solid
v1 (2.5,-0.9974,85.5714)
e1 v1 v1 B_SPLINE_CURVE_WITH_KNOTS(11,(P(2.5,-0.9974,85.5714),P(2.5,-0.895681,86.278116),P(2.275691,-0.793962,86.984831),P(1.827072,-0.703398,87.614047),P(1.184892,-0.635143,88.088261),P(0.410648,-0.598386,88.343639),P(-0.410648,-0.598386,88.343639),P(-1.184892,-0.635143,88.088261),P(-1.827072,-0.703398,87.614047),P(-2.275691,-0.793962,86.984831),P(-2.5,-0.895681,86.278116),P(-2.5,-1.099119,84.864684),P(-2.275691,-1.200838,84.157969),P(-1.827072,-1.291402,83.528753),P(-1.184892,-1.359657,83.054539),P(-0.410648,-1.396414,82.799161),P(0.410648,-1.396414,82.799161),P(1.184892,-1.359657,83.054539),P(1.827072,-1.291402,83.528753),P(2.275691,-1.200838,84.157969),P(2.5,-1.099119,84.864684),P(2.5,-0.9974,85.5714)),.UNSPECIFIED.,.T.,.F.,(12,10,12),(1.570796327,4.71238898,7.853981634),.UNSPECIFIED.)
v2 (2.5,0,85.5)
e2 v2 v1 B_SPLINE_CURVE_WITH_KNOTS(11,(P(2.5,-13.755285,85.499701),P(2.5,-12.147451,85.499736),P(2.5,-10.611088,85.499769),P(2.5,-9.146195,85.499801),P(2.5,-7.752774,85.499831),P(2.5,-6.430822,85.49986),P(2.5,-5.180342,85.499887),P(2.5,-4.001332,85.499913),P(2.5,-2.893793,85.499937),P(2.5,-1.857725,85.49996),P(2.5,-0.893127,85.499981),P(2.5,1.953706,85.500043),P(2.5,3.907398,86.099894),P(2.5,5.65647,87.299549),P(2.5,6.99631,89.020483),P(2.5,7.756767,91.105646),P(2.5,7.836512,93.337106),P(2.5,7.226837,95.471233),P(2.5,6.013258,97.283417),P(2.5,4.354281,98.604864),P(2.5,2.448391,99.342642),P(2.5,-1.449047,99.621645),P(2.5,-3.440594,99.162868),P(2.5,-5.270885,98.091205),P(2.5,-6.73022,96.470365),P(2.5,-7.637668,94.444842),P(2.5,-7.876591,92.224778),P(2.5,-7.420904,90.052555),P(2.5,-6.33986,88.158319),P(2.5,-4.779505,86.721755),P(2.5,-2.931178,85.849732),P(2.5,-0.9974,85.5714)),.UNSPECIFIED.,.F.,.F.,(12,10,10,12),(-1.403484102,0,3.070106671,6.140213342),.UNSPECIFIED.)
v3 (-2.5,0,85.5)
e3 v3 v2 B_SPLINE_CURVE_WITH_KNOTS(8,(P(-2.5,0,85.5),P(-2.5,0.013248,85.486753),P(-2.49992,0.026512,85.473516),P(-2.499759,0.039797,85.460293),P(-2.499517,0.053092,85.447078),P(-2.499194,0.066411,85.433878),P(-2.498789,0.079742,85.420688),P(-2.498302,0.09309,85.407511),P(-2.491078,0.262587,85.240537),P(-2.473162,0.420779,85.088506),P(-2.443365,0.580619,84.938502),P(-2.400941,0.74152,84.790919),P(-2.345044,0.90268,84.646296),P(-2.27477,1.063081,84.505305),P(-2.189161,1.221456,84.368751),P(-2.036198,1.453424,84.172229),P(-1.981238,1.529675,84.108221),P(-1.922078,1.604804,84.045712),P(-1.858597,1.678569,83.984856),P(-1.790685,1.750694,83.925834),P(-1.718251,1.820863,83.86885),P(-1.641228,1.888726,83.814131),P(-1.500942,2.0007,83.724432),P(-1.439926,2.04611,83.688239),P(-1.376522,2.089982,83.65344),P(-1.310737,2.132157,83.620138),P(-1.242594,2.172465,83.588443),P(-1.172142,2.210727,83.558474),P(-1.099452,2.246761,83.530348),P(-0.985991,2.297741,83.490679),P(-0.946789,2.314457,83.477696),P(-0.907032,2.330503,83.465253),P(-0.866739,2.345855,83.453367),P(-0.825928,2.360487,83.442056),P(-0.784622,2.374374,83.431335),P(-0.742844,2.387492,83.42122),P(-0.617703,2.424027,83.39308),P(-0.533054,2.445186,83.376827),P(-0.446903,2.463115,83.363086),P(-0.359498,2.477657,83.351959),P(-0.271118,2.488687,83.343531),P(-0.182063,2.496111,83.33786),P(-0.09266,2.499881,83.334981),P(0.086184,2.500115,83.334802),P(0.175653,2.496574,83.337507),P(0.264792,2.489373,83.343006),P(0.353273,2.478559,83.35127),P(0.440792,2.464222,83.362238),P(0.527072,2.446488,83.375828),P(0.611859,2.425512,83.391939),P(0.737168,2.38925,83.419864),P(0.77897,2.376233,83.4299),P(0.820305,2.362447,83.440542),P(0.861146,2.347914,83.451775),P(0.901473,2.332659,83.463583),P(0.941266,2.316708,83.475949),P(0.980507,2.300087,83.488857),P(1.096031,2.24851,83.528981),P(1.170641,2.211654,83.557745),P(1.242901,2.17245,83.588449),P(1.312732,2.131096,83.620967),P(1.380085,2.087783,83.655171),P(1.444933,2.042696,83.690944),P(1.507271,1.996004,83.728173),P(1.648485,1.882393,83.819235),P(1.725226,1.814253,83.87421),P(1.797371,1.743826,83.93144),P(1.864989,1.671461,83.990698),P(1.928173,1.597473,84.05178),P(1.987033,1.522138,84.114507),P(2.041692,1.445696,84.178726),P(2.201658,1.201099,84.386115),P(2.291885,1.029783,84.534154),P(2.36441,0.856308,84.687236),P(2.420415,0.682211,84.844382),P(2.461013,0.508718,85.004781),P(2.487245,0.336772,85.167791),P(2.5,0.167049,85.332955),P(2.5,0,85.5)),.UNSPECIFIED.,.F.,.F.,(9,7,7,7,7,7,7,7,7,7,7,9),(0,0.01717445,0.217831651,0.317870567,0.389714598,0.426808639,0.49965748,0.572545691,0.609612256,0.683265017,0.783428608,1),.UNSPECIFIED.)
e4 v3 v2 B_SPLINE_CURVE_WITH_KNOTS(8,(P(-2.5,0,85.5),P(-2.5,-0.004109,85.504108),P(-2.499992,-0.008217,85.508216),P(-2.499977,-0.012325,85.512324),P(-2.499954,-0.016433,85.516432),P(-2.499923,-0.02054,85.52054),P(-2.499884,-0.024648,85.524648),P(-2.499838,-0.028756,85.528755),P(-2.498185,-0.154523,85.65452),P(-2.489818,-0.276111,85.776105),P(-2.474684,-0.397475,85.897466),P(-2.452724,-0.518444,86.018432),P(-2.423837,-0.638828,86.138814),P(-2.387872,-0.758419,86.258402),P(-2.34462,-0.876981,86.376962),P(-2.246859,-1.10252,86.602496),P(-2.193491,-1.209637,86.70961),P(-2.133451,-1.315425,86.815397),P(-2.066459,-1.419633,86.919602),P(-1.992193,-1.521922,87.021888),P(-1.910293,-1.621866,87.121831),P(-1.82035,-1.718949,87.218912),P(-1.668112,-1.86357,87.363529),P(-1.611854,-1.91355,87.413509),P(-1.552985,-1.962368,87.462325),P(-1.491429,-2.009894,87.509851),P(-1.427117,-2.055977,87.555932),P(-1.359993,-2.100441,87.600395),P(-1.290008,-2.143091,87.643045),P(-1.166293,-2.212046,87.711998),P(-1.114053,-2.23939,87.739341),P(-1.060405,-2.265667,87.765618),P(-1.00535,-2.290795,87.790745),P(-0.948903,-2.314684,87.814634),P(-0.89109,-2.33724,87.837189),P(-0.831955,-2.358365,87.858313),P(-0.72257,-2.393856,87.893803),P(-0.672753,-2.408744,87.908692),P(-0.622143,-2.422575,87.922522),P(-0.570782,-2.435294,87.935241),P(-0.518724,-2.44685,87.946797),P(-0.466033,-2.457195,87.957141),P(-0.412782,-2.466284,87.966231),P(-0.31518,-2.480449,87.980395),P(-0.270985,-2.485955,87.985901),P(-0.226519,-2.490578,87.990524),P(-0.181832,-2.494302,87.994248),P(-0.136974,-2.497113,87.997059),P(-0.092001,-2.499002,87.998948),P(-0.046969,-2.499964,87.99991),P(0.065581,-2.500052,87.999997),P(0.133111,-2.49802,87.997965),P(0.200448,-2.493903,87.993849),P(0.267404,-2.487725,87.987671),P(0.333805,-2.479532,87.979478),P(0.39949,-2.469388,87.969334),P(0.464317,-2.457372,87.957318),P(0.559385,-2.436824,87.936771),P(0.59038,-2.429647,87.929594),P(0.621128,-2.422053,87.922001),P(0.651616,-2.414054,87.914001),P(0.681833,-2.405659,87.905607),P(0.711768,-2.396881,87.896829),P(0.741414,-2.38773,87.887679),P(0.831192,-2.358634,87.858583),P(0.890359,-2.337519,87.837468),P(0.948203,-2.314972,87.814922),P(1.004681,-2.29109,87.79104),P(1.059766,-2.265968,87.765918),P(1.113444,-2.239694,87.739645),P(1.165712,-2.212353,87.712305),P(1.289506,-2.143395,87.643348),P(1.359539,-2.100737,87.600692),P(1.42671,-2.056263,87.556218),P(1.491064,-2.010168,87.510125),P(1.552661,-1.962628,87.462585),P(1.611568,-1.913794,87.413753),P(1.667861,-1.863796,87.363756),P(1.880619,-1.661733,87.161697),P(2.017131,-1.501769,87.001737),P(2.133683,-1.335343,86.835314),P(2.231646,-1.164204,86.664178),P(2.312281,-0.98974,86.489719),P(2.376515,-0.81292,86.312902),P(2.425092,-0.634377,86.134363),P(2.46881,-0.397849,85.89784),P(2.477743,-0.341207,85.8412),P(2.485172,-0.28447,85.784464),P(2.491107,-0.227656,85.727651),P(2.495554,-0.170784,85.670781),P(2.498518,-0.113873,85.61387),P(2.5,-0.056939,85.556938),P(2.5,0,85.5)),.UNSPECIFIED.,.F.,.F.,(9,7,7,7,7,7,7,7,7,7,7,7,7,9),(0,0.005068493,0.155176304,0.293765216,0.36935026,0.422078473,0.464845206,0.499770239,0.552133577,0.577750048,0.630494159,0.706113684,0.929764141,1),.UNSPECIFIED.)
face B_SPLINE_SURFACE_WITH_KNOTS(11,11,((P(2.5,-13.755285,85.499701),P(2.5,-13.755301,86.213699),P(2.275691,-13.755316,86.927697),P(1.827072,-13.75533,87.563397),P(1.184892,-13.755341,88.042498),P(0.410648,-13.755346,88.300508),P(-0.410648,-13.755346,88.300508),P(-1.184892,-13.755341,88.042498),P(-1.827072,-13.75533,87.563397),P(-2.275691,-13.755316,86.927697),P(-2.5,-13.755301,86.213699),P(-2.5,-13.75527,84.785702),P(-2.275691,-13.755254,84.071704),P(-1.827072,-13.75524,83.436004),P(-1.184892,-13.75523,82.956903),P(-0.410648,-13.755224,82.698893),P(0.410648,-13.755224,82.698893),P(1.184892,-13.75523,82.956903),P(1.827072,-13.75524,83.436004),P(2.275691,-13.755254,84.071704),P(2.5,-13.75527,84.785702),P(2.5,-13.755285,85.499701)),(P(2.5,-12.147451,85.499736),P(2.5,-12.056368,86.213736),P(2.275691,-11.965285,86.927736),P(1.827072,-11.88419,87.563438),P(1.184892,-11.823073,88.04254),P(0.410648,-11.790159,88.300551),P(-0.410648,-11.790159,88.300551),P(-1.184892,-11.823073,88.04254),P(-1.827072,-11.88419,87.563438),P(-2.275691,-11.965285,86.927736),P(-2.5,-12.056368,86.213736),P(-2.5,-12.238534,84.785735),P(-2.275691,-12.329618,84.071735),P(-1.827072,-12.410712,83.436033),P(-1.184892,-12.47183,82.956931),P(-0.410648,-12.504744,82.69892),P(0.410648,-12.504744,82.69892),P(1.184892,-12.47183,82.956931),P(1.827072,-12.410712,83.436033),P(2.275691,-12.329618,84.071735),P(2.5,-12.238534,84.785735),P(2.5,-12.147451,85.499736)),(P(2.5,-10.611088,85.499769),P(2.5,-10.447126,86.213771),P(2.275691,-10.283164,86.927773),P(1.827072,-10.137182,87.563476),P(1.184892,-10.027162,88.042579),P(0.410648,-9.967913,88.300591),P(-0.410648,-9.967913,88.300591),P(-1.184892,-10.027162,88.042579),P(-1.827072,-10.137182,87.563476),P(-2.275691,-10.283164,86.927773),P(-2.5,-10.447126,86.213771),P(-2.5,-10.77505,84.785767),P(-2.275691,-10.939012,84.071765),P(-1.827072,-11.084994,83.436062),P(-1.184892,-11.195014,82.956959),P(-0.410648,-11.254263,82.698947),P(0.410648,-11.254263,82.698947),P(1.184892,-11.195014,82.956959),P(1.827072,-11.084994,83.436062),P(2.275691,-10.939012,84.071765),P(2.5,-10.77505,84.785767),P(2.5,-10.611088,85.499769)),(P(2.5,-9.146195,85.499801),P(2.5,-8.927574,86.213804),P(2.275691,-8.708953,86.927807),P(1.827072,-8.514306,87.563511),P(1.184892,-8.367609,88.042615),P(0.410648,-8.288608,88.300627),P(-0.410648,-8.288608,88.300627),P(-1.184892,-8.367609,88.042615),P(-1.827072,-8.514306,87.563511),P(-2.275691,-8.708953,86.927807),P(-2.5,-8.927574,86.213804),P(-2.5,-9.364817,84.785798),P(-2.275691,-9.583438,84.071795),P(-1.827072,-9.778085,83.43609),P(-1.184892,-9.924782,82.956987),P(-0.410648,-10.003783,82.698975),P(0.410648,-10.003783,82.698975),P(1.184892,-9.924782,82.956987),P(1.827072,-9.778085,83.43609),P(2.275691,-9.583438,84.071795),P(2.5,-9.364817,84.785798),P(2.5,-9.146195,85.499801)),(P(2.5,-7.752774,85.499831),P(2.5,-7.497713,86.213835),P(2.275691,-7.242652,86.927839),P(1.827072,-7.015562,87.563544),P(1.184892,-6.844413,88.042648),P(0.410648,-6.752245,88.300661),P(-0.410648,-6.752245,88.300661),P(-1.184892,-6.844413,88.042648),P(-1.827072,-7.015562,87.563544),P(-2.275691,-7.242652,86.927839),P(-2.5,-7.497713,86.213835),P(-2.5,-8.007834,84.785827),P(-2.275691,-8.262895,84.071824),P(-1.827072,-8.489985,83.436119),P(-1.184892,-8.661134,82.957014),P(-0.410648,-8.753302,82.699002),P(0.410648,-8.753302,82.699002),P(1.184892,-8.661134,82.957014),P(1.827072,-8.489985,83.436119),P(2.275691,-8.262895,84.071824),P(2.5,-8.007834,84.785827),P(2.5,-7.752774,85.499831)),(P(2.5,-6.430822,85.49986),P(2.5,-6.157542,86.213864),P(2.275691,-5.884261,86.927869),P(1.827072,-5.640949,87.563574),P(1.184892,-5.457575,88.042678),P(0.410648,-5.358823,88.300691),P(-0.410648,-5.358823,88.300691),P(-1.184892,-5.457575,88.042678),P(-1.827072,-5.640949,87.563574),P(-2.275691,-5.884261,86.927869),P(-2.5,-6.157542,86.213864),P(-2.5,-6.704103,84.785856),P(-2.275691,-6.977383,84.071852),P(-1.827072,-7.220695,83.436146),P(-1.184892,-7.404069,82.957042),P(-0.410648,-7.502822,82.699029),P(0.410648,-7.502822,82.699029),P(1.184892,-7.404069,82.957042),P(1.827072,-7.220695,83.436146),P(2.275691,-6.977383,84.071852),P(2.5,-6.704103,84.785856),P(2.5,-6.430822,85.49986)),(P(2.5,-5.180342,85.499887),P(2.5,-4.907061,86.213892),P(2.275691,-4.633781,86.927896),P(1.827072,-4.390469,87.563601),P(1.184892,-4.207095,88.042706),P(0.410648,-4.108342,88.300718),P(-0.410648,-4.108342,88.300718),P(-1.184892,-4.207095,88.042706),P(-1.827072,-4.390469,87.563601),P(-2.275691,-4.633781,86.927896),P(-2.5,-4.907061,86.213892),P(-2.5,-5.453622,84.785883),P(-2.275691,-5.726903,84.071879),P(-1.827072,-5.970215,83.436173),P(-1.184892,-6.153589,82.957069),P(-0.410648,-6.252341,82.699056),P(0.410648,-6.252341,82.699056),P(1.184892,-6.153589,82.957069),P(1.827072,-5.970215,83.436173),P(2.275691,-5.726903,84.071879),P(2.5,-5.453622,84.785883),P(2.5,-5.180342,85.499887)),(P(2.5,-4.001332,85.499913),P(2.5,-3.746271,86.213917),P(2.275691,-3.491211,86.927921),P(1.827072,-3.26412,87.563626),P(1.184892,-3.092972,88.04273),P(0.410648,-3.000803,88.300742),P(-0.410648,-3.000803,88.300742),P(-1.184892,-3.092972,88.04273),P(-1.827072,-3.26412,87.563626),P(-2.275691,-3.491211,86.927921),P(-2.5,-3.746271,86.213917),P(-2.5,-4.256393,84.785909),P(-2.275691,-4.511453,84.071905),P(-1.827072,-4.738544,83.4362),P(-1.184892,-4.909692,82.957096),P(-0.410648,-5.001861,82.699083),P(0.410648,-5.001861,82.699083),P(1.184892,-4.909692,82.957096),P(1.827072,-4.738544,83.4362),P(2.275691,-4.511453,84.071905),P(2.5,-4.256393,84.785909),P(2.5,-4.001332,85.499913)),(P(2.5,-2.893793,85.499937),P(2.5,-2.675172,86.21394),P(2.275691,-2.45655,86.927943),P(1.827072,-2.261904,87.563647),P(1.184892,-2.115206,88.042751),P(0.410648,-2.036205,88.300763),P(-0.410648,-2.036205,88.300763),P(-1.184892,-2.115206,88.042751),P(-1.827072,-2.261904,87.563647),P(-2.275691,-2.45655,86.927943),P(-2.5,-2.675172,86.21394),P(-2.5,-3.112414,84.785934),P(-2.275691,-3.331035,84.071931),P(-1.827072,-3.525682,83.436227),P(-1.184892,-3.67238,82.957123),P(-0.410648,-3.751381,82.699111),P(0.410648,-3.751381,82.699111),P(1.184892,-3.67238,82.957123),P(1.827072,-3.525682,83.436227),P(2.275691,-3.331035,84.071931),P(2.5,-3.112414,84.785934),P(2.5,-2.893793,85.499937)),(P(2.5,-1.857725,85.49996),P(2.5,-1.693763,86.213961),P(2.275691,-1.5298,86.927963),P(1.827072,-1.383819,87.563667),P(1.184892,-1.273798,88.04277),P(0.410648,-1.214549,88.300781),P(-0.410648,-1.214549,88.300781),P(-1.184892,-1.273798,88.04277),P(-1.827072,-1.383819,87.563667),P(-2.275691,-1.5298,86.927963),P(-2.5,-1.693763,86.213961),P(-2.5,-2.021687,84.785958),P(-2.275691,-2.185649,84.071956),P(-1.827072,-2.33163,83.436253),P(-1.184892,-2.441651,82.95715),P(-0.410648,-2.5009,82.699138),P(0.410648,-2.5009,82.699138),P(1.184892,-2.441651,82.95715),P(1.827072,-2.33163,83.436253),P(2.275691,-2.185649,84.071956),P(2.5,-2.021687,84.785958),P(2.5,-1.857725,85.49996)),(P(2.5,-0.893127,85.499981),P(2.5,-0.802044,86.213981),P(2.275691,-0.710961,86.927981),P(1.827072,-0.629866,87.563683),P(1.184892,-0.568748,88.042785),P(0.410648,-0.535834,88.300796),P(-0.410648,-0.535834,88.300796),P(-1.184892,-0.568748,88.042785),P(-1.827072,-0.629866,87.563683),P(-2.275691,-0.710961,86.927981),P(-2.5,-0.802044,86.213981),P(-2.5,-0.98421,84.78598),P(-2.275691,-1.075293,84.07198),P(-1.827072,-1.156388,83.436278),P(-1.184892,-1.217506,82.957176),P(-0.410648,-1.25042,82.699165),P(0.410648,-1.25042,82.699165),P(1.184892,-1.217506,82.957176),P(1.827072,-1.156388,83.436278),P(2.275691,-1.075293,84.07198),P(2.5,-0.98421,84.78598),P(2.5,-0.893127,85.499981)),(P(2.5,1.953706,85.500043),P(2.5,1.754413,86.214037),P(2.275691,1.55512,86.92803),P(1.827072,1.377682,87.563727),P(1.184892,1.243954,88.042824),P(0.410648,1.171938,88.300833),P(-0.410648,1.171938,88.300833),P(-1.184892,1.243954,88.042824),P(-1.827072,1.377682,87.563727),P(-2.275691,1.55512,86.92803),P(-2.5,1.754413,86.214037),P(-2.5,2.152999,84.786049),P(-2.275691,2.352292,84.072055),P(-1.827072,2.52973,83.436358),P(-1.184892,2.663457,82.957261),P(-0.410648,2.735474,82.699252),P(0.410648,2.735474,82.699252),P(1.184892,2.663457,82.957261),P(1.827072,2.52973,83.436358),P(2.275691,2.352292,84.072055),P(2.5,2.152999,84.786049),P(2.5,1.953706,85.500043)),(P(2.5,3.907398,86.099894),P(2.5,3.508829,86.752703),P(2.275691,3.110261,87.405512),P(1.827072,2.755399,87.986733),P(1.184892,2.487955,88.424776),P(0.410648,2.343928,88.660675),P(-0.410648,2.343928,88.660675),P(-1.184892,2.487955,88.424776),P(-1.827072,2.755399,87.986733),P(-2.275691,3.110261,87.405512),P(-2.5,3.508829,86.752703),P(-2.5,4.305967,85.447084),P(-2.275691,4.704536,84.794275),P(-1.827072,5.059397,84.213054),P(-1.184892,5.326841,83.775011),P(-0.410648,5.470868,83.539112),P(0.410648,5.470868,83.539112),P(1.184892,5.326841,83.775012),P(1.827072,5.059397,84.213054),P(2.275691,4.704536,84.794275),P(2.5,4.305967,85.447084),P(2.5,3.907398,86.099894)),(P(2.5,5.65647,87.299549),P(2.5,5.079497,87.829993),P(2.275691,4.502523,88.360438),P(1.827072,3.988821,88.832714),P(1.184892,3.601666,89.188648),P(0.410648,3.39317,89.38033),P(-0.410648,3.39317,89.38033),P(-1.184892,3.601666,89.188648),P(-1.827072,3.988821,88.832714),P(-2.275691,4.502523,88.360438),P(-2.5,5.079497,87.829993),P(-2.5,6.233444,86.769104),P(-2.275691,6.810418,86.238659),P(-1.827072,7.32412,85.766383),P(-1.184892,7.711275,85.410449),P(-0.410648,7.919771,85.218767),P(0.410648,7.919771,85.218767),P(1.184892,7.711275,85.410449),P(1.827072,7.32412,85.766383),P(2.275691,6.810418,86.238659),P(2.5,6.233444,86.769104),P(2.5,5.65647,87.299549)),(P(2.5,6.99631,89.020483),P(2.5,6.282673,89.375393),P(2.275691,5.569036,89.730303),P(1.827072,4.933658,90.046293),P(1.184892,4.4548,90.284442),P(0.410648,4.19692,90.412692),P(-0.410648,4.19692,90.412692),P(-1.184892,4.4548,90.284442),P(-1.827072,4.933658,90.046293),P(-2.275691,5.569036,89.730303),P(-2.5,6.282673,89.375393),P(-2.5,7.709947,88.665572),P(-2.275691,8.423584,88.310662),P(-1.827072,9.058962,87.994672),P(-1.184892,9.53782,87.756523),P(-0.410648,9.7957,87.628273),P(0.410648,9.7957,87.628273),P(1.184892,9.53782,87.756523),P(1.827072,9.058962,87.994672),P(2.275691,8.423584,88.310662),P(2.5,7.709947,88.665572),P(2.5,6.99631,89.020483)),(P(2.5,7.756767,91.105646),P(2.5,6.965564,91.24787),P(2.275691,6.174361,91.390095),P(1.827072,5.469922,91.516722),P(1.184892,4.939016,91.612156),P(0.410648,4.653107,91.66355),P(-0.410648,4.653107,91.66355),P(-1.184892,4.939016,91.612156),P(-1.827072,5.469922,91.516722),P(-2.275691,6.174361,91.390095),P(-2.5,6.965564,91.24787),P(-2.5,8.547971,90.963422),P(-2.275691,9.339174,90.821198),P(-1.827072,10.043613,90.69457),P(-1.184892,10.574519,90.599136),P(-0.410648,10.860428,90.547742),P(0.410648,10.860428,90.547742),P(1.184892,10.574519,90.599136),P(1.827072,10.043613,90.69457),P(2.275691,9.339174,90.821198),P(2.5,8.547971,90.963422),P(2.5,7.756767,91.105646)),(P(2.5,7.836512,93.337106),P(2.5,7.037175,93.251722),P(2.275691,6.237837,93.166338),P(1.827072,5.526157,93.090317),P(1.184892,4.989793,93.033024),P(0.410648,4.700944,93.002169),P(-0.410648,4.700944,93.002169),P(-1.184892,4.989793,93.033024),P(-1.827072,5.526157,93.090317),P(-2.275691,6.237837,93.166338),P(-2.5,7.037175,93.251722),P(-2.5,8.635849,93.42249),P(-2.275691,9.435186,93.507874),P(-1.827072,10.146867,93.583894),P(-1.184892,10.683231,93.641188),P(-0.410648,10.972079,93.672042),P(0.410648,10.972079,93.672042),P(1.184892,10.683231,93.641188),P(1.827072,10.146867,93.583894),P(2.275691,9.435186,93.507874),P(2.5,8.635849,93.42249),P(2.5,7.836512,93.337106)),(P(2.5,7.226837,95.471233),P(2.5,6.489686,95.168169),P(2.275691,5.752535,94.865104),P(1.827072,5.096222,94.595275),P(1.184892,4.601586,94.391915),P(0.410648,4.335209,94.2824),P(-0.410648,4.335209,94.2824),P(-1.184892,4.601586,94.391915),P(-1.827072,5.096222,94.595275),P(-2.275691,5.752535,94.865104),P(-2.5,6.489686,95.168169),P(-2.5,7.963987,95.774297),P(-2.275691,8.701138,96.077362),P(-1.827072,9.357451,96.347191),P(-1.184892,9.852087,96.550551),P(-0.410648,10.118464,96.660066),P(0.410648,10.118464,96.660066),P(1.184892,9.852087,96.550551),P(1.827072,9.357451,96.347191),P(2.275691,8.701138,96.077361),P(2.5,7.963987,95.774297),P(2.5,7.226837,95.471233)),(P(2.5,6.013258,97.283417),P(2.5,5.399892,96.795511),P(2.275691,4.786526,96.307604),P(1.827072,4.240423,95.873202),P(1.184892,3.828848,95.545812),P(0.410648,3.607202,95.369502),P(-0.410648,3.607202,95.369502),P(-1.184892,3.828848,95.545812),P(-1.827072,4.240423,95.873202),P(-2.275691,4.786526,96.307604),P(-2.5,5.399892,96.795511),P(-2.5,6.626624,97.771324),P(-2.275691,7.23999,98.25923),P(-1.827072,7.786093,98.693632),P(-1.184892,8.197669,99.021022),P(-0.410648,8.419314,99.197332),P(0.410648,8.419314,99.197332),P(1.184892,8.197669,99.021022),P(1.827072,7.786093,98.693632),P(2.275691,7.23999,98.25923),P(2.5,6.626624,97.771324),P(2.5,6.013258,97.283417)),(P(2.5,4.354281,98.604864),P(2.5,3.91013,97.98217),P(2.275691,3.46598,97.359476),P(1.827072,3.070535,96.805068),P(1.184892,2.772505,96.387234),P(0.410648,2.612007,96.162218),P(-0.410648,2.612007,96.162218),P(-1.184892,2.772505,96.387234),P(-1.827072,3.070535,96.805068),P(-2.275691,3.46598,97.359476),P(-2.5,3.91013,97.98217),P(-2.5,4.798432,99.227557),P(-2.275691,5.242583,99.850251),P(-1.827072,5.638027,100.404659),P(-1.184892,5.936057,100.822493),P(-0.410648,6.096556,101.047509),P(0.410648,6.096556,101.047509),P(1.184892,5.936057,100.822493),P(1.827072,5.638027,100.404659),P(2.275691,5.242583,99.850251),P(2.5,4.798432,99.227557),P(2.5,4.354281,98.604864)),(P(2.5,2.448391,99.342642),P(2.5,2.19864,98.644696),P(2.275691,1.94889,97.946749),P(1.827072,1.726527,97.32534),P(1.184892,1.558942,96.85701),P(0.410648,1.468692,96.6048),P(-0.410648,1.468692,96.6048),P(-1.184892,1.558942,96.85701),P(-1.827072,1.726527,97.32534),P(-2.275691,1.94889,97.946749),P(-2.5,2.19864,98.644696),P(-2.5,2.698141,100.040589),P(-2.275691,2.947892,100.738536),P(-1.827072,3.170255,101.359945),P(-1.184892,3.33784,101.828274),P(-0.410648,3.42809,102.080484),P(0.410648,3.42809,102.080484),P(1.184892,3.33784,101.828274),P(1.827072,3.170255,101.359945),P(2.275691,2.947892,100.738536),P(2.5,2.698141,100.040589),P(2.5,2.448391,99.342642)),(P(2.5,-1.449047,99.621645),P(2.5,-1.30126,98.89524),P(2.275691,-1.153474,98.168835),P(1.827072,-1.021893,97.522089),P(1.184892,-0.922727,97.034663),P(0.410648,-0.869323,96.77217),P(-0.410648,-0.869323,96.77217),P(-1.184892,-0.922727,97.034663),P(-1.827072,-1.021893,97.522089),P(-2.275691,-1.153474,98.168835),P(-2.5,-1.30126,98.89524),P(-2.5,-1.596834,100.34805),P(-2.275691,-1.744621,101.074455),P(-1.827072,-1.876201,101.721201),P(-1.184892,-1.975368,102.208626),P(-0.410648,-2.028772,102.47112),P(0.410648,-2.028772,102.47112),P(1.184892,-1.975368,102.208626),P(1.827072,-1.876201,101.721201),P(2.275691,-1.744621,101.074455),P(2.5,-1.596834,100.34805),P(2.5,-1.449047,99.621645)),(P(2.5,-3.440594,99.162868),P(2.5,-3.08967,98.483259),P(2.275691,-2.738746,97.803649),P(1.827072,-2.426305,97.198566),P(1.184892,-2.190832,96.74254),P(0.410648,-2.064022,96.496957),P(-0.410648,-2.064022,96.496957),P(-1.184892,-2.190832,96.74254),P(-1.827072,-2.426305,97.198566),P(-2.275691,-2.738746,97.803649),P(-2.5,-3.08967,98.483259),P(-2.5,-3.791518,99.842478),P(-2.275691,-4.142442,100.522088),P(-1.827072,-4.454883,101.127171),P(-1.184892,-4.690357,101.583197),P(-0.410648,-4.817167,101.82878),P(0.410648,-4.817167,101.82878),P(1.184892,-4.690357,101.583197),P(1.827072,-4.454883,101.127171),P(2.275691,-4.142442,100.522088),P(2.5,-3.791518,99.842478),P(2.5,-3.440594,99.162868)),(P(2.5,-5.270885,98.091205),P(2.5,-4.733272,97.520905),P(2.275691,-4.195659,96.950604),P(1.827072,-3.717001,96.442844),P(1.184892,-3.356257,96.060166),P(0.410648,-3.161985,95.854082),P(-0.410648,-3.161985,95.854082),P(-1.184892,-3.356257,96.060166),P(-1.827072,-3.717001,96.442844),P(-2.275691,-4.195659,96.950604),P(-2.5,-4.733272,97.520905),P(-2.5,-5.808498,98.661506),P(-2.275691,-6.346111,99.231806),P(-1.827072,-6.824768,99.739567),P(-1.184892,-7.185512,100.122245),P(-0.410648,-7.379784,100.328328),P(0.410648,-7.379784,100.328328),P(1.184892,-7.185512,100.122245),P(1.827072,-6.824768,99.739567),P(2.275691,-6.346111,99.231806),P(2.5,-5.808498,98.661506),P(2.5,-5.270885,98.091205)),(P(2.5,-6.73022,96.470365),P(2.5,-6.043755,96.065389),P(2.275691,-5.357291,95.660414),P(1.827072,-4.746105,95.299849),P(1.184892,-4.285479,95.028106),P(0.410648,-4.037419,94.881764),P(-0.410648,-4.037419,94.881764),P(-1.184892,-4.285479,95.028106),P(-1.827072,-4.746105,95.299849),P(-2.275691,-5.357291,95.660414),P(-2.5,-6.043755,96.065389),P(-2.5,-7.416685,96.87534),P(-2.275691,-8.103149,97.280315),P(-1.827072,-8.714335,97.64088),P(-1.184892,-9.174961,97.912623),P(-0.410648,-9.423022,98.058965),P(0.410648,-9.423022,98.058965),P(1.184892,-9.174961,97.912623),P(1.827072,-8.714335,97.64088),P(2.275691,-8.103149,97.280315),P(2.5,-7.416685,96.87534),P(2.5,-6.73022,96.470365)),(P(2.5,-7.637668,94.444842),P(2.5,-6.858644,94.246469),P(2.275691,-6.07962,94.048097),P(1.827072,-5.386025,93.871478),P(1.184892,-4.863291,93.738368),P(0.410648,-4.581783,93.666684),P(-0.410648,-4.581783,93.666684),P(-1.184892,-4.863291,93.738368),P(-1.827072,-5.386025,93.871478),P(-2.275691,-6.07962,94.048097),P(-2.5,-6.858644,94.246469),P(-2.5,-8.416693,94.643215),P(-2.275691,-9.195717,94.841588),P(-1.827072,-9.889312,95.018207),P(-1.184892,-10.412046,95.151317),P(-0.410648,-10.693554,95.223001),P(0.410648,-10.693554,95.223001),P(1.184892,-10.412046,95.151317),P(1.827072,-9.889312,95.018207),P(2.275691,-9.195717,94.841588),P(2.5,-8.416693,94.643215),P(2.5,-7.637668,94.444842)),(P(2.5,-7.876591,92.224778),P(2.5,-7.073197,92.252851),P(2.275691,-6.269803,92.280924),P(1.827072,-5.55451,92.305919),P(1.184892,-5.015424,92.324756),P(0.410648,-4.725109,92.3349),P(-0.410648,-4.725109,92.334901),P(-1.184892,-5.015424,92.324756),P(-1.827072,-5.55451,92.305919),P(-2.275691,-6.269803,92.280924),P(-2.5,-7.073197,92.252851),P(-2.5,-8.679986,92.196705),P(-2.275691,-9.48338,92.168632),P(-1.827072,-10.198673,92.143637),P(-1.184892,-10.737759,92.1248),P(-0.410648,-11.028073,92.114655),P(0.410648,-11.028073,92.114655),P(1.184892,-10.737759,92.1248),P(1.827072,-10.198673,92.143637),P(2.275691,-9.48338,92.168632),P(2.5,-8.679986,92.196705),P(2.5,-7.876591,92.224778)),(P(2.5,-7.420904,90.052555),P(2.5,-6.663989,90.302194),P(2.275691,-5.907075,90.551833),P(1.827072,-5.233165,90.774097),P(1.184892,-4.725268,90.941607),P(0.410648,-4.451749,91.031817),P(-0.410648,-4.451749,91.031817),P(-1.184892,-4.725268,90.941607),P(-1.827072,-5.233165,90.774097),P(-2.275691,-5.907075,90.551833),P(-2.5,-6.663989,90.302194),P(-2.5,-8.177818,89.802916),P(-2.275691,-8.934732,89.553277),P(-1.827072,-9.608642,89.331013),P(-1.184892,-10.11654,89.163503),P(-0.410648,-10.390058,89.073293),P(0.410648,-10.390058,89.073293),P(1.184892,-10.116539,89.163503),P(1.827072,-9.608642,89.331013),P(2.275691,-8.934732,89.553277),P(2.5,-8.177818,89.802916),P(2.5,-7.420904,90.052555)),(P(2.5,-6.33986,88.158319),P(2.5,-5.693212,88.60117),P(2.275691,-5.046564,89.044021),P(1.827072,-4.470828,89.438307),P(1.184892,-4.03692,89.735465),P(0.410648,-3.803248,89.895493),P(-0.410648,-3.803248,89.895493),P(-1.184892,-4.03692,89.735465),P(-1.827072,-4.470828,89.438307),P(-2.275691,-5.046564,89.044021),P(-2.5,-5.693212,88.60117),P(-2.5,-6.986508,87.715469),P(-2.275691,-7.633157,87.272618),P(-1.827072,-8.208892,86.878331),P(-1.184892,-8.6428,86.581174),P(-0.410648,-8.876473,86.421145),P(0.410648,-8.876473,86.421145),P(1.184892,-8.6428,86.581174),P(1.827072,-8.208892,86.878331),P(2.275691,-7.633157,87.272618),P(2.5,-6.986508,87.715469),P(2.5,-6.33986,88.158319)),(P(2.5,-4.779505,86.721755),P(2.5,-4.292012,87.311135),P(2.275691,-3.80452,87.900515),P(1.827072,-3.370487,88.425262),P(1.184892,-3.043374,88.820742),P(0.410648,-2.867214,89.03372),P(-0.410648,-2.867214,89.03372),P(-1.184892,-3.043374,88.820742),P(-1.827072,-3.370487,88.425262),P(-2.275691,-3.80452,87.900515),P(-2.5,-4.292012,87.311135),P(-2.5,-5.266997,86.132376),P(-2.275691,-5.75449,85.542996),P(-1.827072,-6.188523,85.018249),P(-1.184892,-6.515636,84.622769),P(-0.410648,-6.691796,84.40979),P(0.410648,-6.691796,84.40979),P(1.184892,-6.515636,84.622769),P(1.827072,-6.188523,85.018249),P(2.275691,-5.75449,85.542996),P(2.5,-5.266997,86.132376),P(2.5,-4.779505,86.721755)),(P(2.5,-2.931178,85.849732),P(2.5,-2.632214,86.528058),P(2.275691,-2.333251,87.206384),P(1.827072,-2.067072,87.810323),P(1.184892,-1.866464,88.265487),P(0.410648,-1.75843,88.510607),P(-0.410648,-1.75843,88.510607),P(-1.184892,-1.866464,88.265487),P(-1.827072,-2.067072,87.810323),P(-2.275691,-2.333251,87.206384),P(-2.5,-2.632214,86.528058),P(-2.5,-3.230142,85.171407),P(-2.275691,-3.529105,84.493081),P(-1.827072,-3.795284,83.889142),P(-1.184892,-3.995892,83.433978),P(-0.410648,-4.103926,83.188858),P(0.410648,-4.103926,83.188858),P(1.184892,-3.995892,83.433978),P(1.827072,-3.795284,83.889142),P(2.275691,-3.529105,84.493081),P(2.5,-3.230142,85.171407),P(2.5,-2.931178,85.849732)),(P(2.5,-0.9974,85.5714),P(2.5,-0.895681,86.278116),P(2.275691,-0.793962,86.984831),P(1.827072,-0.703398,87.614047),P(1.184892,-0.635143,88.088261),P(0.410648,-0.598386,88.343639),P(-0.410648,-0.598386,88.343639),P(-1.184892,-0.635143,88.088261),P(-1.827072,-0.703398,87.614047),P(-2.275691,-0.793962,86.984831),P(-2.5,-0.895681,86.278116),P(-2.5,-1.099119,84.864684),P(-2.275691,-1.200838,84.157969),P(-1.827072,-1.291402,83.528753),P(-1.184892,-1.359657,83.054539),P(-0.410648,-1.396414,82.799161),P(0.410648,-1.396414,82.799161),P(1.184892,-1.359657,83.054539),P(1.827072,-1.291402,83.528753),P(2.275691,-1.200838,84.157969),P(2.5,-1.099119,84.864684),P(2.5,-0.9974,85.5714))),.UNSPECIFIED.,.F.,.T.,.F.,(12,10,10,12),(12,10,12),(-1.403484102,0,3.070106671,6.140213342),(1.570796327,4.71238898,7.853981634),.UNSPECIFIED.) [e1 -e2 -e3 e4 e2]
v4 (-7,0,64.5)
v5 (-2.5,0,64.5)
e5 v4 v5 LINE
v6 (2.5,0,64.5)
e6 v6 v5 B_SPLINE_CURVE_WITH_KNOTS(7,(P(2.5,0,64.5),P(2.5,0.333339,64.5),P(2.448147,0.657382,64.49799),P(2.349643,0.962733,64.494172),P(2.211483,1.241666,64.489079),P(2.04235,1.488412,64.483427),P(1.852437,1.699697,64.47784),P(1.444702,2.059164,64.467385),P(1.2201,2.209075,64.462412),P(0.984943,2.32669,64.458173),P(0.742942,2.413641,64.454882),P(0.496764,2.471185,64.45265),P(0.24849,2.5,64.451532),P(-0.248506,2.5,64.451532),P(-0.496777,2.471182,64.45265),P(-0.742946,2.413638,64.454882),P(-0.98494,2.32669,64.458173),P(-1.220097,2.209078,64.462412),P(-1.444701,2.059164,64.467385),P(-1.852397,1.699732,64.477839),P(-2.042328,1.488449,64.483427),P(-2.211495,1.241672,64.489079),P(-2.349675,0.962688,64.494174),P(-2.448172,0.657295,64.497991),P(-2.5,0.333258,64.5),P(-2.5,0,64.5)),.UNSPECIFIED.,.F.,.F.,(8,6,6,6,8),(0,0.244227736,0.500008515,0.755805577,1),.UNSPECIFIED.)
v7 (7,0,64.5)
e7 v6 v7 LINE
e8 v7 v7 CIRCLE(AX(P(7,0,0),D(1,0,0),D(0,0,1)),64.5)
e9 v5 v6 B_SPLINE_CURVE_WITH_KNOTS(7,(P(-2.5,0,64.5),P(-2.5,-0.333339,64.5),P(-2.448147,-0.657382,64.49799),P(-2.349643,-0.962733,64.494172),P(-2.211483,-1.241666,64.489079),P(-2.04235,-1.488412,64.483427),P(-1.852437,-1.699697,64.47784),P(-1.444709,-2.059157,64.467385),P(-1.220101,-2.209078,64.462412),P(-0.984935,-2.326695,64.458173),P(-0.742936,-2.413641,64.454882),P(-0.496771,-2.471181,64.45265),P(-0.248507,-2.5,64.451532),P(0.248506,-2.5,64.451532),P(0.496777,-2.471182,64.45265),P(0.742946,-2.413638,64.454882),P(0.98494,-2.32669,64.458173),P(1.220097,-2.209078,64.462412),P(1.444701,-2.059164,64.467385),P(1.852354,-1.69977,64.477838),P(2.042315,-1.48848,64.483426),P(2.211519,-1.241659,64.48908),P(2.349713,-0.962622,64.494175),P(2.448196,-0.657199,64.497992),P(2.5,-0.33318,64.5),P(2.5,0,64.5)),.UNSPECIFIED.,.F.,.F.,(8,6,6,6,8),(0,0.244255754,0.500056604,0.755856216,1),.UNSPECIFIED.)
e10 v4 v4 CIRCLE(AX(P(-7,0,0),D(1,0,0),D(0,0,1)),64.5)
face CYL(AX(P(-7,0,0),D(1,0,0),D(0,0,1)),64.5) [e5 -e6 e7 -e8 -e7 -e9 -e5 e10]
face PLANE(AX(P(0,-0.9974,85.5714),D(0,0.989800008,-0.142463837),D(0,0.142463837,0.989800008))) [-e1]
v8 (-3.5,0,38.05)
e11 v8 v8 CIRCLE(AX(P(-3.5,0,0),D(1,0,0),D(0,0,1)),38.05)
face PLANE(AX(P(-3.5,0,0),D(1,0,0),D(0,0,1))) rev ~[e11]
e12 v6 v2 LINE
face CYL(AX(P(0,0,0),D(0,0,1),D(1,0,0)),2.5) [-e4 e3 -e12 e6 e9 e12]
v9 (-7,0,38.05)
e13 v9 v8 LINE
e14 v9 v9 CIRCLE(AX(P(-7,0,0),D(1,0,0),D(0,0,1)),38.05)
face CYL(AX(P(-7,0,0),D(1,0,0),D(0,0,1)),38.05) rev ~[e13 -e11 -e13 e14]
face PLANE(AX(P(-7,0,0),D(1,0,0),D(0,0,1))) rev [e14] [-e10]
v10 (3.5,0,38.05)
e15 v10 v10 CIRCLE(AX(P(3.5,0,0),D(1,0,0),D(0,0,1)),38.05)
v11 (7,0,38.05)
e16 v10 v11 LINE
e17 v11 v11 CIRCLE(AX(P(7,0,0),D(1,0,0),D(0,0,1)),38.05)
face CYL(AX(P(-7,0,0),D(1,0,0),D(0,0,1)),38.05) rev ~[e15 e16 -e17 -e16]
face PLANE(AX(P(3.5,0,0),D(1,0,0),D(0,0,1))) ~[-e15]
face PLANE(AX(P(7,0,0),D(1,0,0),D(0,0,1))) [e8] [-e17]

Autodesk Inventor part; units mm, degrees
ref_plane "YZ Plane" through (0, 0, 0) normal (1, 0, 0) x (0, 1, 0)
ref_plane "XZ Plane" through (0, 0, 0) normal (0, 1, 0) x (-1, 0, 0)
ref_plane "XY Plane" through (0, 0, 0) normal (0, 0, 1) x (1, 0, 0)
sketch "Sketch1" plane through (0, 0, 0) normal (0, 1, 0) x (-1, 0, 0)
  line L0 (7, 0) -> (-7, 0) construction
  line L1 (7, 64.5) -> (-7, 64.5)
  line L2 (-7, 64.5) -> (-7, 38.05)
  line L3 (7, 38.05) -> (-7, 38.05)
  line L4 (7, 38.05) -> (7, 64.5)
  line L5 (3.5, 0) -> (-3.5, 0)
  line L6 (-3.5, 0) -> (-3.5, 38.05)
  line L7 (-3.5, 38.05) -> (3.5, 38.05)
  line L8 (3.5, 38.05) -> (3.5, 0)
  line L9 (3.5, 0) -> (-3.5, 38.05) construction
  line L10 (-3.5, 0) -> (3.5, 38.05) construction
  point P0 (0, 19.025)
  point P1 (0, 38.05)
  point P2 (0, 0)
  point P3 (0, 0)
  dimension "Thickness" = 14
  dimension "DiamExt" = 129
  dimension "PipeDiameter" = 76.1
  dimension "d8" = 7
revolve "Revolution1" add sketch "Sketch1" angle 360 about axis through (-7, 0, 0) along (1, 0, 0)
sketch "Sketch3" plane through (0, 0, 0) normal (0, 0, 1) x (1, 0, 0)
  circle A0 centre (0, 0) radius 2.5
  dimension "d9" = 5
sketch "Sketch4" plane through (0, 0, 0) normal (1, 0, 0) x (0, 1, 0)
  line L0 (0, 0) -> (0, 85.5)
  arc A0 (0, 85.5) -> (-0.9974, 85.5714) centre (0, 92.5) ccw
  dimension "d10" = 7
  dimension "d11" = 92.5
  dimension "d14" = 1
sweep "Sweep1" add profiles "Sketch3" path "Sketch4"
equation "\"d8\" = 0.5 * Thickness"
equation "\"d10\" = 0.5 * Thickness"
equation "\"d11\" = 0.5 * DiamExt + 2 * Thickness"
properties part number "CHECK VALVE SWING WAFER 304L DN65" material "304L"
